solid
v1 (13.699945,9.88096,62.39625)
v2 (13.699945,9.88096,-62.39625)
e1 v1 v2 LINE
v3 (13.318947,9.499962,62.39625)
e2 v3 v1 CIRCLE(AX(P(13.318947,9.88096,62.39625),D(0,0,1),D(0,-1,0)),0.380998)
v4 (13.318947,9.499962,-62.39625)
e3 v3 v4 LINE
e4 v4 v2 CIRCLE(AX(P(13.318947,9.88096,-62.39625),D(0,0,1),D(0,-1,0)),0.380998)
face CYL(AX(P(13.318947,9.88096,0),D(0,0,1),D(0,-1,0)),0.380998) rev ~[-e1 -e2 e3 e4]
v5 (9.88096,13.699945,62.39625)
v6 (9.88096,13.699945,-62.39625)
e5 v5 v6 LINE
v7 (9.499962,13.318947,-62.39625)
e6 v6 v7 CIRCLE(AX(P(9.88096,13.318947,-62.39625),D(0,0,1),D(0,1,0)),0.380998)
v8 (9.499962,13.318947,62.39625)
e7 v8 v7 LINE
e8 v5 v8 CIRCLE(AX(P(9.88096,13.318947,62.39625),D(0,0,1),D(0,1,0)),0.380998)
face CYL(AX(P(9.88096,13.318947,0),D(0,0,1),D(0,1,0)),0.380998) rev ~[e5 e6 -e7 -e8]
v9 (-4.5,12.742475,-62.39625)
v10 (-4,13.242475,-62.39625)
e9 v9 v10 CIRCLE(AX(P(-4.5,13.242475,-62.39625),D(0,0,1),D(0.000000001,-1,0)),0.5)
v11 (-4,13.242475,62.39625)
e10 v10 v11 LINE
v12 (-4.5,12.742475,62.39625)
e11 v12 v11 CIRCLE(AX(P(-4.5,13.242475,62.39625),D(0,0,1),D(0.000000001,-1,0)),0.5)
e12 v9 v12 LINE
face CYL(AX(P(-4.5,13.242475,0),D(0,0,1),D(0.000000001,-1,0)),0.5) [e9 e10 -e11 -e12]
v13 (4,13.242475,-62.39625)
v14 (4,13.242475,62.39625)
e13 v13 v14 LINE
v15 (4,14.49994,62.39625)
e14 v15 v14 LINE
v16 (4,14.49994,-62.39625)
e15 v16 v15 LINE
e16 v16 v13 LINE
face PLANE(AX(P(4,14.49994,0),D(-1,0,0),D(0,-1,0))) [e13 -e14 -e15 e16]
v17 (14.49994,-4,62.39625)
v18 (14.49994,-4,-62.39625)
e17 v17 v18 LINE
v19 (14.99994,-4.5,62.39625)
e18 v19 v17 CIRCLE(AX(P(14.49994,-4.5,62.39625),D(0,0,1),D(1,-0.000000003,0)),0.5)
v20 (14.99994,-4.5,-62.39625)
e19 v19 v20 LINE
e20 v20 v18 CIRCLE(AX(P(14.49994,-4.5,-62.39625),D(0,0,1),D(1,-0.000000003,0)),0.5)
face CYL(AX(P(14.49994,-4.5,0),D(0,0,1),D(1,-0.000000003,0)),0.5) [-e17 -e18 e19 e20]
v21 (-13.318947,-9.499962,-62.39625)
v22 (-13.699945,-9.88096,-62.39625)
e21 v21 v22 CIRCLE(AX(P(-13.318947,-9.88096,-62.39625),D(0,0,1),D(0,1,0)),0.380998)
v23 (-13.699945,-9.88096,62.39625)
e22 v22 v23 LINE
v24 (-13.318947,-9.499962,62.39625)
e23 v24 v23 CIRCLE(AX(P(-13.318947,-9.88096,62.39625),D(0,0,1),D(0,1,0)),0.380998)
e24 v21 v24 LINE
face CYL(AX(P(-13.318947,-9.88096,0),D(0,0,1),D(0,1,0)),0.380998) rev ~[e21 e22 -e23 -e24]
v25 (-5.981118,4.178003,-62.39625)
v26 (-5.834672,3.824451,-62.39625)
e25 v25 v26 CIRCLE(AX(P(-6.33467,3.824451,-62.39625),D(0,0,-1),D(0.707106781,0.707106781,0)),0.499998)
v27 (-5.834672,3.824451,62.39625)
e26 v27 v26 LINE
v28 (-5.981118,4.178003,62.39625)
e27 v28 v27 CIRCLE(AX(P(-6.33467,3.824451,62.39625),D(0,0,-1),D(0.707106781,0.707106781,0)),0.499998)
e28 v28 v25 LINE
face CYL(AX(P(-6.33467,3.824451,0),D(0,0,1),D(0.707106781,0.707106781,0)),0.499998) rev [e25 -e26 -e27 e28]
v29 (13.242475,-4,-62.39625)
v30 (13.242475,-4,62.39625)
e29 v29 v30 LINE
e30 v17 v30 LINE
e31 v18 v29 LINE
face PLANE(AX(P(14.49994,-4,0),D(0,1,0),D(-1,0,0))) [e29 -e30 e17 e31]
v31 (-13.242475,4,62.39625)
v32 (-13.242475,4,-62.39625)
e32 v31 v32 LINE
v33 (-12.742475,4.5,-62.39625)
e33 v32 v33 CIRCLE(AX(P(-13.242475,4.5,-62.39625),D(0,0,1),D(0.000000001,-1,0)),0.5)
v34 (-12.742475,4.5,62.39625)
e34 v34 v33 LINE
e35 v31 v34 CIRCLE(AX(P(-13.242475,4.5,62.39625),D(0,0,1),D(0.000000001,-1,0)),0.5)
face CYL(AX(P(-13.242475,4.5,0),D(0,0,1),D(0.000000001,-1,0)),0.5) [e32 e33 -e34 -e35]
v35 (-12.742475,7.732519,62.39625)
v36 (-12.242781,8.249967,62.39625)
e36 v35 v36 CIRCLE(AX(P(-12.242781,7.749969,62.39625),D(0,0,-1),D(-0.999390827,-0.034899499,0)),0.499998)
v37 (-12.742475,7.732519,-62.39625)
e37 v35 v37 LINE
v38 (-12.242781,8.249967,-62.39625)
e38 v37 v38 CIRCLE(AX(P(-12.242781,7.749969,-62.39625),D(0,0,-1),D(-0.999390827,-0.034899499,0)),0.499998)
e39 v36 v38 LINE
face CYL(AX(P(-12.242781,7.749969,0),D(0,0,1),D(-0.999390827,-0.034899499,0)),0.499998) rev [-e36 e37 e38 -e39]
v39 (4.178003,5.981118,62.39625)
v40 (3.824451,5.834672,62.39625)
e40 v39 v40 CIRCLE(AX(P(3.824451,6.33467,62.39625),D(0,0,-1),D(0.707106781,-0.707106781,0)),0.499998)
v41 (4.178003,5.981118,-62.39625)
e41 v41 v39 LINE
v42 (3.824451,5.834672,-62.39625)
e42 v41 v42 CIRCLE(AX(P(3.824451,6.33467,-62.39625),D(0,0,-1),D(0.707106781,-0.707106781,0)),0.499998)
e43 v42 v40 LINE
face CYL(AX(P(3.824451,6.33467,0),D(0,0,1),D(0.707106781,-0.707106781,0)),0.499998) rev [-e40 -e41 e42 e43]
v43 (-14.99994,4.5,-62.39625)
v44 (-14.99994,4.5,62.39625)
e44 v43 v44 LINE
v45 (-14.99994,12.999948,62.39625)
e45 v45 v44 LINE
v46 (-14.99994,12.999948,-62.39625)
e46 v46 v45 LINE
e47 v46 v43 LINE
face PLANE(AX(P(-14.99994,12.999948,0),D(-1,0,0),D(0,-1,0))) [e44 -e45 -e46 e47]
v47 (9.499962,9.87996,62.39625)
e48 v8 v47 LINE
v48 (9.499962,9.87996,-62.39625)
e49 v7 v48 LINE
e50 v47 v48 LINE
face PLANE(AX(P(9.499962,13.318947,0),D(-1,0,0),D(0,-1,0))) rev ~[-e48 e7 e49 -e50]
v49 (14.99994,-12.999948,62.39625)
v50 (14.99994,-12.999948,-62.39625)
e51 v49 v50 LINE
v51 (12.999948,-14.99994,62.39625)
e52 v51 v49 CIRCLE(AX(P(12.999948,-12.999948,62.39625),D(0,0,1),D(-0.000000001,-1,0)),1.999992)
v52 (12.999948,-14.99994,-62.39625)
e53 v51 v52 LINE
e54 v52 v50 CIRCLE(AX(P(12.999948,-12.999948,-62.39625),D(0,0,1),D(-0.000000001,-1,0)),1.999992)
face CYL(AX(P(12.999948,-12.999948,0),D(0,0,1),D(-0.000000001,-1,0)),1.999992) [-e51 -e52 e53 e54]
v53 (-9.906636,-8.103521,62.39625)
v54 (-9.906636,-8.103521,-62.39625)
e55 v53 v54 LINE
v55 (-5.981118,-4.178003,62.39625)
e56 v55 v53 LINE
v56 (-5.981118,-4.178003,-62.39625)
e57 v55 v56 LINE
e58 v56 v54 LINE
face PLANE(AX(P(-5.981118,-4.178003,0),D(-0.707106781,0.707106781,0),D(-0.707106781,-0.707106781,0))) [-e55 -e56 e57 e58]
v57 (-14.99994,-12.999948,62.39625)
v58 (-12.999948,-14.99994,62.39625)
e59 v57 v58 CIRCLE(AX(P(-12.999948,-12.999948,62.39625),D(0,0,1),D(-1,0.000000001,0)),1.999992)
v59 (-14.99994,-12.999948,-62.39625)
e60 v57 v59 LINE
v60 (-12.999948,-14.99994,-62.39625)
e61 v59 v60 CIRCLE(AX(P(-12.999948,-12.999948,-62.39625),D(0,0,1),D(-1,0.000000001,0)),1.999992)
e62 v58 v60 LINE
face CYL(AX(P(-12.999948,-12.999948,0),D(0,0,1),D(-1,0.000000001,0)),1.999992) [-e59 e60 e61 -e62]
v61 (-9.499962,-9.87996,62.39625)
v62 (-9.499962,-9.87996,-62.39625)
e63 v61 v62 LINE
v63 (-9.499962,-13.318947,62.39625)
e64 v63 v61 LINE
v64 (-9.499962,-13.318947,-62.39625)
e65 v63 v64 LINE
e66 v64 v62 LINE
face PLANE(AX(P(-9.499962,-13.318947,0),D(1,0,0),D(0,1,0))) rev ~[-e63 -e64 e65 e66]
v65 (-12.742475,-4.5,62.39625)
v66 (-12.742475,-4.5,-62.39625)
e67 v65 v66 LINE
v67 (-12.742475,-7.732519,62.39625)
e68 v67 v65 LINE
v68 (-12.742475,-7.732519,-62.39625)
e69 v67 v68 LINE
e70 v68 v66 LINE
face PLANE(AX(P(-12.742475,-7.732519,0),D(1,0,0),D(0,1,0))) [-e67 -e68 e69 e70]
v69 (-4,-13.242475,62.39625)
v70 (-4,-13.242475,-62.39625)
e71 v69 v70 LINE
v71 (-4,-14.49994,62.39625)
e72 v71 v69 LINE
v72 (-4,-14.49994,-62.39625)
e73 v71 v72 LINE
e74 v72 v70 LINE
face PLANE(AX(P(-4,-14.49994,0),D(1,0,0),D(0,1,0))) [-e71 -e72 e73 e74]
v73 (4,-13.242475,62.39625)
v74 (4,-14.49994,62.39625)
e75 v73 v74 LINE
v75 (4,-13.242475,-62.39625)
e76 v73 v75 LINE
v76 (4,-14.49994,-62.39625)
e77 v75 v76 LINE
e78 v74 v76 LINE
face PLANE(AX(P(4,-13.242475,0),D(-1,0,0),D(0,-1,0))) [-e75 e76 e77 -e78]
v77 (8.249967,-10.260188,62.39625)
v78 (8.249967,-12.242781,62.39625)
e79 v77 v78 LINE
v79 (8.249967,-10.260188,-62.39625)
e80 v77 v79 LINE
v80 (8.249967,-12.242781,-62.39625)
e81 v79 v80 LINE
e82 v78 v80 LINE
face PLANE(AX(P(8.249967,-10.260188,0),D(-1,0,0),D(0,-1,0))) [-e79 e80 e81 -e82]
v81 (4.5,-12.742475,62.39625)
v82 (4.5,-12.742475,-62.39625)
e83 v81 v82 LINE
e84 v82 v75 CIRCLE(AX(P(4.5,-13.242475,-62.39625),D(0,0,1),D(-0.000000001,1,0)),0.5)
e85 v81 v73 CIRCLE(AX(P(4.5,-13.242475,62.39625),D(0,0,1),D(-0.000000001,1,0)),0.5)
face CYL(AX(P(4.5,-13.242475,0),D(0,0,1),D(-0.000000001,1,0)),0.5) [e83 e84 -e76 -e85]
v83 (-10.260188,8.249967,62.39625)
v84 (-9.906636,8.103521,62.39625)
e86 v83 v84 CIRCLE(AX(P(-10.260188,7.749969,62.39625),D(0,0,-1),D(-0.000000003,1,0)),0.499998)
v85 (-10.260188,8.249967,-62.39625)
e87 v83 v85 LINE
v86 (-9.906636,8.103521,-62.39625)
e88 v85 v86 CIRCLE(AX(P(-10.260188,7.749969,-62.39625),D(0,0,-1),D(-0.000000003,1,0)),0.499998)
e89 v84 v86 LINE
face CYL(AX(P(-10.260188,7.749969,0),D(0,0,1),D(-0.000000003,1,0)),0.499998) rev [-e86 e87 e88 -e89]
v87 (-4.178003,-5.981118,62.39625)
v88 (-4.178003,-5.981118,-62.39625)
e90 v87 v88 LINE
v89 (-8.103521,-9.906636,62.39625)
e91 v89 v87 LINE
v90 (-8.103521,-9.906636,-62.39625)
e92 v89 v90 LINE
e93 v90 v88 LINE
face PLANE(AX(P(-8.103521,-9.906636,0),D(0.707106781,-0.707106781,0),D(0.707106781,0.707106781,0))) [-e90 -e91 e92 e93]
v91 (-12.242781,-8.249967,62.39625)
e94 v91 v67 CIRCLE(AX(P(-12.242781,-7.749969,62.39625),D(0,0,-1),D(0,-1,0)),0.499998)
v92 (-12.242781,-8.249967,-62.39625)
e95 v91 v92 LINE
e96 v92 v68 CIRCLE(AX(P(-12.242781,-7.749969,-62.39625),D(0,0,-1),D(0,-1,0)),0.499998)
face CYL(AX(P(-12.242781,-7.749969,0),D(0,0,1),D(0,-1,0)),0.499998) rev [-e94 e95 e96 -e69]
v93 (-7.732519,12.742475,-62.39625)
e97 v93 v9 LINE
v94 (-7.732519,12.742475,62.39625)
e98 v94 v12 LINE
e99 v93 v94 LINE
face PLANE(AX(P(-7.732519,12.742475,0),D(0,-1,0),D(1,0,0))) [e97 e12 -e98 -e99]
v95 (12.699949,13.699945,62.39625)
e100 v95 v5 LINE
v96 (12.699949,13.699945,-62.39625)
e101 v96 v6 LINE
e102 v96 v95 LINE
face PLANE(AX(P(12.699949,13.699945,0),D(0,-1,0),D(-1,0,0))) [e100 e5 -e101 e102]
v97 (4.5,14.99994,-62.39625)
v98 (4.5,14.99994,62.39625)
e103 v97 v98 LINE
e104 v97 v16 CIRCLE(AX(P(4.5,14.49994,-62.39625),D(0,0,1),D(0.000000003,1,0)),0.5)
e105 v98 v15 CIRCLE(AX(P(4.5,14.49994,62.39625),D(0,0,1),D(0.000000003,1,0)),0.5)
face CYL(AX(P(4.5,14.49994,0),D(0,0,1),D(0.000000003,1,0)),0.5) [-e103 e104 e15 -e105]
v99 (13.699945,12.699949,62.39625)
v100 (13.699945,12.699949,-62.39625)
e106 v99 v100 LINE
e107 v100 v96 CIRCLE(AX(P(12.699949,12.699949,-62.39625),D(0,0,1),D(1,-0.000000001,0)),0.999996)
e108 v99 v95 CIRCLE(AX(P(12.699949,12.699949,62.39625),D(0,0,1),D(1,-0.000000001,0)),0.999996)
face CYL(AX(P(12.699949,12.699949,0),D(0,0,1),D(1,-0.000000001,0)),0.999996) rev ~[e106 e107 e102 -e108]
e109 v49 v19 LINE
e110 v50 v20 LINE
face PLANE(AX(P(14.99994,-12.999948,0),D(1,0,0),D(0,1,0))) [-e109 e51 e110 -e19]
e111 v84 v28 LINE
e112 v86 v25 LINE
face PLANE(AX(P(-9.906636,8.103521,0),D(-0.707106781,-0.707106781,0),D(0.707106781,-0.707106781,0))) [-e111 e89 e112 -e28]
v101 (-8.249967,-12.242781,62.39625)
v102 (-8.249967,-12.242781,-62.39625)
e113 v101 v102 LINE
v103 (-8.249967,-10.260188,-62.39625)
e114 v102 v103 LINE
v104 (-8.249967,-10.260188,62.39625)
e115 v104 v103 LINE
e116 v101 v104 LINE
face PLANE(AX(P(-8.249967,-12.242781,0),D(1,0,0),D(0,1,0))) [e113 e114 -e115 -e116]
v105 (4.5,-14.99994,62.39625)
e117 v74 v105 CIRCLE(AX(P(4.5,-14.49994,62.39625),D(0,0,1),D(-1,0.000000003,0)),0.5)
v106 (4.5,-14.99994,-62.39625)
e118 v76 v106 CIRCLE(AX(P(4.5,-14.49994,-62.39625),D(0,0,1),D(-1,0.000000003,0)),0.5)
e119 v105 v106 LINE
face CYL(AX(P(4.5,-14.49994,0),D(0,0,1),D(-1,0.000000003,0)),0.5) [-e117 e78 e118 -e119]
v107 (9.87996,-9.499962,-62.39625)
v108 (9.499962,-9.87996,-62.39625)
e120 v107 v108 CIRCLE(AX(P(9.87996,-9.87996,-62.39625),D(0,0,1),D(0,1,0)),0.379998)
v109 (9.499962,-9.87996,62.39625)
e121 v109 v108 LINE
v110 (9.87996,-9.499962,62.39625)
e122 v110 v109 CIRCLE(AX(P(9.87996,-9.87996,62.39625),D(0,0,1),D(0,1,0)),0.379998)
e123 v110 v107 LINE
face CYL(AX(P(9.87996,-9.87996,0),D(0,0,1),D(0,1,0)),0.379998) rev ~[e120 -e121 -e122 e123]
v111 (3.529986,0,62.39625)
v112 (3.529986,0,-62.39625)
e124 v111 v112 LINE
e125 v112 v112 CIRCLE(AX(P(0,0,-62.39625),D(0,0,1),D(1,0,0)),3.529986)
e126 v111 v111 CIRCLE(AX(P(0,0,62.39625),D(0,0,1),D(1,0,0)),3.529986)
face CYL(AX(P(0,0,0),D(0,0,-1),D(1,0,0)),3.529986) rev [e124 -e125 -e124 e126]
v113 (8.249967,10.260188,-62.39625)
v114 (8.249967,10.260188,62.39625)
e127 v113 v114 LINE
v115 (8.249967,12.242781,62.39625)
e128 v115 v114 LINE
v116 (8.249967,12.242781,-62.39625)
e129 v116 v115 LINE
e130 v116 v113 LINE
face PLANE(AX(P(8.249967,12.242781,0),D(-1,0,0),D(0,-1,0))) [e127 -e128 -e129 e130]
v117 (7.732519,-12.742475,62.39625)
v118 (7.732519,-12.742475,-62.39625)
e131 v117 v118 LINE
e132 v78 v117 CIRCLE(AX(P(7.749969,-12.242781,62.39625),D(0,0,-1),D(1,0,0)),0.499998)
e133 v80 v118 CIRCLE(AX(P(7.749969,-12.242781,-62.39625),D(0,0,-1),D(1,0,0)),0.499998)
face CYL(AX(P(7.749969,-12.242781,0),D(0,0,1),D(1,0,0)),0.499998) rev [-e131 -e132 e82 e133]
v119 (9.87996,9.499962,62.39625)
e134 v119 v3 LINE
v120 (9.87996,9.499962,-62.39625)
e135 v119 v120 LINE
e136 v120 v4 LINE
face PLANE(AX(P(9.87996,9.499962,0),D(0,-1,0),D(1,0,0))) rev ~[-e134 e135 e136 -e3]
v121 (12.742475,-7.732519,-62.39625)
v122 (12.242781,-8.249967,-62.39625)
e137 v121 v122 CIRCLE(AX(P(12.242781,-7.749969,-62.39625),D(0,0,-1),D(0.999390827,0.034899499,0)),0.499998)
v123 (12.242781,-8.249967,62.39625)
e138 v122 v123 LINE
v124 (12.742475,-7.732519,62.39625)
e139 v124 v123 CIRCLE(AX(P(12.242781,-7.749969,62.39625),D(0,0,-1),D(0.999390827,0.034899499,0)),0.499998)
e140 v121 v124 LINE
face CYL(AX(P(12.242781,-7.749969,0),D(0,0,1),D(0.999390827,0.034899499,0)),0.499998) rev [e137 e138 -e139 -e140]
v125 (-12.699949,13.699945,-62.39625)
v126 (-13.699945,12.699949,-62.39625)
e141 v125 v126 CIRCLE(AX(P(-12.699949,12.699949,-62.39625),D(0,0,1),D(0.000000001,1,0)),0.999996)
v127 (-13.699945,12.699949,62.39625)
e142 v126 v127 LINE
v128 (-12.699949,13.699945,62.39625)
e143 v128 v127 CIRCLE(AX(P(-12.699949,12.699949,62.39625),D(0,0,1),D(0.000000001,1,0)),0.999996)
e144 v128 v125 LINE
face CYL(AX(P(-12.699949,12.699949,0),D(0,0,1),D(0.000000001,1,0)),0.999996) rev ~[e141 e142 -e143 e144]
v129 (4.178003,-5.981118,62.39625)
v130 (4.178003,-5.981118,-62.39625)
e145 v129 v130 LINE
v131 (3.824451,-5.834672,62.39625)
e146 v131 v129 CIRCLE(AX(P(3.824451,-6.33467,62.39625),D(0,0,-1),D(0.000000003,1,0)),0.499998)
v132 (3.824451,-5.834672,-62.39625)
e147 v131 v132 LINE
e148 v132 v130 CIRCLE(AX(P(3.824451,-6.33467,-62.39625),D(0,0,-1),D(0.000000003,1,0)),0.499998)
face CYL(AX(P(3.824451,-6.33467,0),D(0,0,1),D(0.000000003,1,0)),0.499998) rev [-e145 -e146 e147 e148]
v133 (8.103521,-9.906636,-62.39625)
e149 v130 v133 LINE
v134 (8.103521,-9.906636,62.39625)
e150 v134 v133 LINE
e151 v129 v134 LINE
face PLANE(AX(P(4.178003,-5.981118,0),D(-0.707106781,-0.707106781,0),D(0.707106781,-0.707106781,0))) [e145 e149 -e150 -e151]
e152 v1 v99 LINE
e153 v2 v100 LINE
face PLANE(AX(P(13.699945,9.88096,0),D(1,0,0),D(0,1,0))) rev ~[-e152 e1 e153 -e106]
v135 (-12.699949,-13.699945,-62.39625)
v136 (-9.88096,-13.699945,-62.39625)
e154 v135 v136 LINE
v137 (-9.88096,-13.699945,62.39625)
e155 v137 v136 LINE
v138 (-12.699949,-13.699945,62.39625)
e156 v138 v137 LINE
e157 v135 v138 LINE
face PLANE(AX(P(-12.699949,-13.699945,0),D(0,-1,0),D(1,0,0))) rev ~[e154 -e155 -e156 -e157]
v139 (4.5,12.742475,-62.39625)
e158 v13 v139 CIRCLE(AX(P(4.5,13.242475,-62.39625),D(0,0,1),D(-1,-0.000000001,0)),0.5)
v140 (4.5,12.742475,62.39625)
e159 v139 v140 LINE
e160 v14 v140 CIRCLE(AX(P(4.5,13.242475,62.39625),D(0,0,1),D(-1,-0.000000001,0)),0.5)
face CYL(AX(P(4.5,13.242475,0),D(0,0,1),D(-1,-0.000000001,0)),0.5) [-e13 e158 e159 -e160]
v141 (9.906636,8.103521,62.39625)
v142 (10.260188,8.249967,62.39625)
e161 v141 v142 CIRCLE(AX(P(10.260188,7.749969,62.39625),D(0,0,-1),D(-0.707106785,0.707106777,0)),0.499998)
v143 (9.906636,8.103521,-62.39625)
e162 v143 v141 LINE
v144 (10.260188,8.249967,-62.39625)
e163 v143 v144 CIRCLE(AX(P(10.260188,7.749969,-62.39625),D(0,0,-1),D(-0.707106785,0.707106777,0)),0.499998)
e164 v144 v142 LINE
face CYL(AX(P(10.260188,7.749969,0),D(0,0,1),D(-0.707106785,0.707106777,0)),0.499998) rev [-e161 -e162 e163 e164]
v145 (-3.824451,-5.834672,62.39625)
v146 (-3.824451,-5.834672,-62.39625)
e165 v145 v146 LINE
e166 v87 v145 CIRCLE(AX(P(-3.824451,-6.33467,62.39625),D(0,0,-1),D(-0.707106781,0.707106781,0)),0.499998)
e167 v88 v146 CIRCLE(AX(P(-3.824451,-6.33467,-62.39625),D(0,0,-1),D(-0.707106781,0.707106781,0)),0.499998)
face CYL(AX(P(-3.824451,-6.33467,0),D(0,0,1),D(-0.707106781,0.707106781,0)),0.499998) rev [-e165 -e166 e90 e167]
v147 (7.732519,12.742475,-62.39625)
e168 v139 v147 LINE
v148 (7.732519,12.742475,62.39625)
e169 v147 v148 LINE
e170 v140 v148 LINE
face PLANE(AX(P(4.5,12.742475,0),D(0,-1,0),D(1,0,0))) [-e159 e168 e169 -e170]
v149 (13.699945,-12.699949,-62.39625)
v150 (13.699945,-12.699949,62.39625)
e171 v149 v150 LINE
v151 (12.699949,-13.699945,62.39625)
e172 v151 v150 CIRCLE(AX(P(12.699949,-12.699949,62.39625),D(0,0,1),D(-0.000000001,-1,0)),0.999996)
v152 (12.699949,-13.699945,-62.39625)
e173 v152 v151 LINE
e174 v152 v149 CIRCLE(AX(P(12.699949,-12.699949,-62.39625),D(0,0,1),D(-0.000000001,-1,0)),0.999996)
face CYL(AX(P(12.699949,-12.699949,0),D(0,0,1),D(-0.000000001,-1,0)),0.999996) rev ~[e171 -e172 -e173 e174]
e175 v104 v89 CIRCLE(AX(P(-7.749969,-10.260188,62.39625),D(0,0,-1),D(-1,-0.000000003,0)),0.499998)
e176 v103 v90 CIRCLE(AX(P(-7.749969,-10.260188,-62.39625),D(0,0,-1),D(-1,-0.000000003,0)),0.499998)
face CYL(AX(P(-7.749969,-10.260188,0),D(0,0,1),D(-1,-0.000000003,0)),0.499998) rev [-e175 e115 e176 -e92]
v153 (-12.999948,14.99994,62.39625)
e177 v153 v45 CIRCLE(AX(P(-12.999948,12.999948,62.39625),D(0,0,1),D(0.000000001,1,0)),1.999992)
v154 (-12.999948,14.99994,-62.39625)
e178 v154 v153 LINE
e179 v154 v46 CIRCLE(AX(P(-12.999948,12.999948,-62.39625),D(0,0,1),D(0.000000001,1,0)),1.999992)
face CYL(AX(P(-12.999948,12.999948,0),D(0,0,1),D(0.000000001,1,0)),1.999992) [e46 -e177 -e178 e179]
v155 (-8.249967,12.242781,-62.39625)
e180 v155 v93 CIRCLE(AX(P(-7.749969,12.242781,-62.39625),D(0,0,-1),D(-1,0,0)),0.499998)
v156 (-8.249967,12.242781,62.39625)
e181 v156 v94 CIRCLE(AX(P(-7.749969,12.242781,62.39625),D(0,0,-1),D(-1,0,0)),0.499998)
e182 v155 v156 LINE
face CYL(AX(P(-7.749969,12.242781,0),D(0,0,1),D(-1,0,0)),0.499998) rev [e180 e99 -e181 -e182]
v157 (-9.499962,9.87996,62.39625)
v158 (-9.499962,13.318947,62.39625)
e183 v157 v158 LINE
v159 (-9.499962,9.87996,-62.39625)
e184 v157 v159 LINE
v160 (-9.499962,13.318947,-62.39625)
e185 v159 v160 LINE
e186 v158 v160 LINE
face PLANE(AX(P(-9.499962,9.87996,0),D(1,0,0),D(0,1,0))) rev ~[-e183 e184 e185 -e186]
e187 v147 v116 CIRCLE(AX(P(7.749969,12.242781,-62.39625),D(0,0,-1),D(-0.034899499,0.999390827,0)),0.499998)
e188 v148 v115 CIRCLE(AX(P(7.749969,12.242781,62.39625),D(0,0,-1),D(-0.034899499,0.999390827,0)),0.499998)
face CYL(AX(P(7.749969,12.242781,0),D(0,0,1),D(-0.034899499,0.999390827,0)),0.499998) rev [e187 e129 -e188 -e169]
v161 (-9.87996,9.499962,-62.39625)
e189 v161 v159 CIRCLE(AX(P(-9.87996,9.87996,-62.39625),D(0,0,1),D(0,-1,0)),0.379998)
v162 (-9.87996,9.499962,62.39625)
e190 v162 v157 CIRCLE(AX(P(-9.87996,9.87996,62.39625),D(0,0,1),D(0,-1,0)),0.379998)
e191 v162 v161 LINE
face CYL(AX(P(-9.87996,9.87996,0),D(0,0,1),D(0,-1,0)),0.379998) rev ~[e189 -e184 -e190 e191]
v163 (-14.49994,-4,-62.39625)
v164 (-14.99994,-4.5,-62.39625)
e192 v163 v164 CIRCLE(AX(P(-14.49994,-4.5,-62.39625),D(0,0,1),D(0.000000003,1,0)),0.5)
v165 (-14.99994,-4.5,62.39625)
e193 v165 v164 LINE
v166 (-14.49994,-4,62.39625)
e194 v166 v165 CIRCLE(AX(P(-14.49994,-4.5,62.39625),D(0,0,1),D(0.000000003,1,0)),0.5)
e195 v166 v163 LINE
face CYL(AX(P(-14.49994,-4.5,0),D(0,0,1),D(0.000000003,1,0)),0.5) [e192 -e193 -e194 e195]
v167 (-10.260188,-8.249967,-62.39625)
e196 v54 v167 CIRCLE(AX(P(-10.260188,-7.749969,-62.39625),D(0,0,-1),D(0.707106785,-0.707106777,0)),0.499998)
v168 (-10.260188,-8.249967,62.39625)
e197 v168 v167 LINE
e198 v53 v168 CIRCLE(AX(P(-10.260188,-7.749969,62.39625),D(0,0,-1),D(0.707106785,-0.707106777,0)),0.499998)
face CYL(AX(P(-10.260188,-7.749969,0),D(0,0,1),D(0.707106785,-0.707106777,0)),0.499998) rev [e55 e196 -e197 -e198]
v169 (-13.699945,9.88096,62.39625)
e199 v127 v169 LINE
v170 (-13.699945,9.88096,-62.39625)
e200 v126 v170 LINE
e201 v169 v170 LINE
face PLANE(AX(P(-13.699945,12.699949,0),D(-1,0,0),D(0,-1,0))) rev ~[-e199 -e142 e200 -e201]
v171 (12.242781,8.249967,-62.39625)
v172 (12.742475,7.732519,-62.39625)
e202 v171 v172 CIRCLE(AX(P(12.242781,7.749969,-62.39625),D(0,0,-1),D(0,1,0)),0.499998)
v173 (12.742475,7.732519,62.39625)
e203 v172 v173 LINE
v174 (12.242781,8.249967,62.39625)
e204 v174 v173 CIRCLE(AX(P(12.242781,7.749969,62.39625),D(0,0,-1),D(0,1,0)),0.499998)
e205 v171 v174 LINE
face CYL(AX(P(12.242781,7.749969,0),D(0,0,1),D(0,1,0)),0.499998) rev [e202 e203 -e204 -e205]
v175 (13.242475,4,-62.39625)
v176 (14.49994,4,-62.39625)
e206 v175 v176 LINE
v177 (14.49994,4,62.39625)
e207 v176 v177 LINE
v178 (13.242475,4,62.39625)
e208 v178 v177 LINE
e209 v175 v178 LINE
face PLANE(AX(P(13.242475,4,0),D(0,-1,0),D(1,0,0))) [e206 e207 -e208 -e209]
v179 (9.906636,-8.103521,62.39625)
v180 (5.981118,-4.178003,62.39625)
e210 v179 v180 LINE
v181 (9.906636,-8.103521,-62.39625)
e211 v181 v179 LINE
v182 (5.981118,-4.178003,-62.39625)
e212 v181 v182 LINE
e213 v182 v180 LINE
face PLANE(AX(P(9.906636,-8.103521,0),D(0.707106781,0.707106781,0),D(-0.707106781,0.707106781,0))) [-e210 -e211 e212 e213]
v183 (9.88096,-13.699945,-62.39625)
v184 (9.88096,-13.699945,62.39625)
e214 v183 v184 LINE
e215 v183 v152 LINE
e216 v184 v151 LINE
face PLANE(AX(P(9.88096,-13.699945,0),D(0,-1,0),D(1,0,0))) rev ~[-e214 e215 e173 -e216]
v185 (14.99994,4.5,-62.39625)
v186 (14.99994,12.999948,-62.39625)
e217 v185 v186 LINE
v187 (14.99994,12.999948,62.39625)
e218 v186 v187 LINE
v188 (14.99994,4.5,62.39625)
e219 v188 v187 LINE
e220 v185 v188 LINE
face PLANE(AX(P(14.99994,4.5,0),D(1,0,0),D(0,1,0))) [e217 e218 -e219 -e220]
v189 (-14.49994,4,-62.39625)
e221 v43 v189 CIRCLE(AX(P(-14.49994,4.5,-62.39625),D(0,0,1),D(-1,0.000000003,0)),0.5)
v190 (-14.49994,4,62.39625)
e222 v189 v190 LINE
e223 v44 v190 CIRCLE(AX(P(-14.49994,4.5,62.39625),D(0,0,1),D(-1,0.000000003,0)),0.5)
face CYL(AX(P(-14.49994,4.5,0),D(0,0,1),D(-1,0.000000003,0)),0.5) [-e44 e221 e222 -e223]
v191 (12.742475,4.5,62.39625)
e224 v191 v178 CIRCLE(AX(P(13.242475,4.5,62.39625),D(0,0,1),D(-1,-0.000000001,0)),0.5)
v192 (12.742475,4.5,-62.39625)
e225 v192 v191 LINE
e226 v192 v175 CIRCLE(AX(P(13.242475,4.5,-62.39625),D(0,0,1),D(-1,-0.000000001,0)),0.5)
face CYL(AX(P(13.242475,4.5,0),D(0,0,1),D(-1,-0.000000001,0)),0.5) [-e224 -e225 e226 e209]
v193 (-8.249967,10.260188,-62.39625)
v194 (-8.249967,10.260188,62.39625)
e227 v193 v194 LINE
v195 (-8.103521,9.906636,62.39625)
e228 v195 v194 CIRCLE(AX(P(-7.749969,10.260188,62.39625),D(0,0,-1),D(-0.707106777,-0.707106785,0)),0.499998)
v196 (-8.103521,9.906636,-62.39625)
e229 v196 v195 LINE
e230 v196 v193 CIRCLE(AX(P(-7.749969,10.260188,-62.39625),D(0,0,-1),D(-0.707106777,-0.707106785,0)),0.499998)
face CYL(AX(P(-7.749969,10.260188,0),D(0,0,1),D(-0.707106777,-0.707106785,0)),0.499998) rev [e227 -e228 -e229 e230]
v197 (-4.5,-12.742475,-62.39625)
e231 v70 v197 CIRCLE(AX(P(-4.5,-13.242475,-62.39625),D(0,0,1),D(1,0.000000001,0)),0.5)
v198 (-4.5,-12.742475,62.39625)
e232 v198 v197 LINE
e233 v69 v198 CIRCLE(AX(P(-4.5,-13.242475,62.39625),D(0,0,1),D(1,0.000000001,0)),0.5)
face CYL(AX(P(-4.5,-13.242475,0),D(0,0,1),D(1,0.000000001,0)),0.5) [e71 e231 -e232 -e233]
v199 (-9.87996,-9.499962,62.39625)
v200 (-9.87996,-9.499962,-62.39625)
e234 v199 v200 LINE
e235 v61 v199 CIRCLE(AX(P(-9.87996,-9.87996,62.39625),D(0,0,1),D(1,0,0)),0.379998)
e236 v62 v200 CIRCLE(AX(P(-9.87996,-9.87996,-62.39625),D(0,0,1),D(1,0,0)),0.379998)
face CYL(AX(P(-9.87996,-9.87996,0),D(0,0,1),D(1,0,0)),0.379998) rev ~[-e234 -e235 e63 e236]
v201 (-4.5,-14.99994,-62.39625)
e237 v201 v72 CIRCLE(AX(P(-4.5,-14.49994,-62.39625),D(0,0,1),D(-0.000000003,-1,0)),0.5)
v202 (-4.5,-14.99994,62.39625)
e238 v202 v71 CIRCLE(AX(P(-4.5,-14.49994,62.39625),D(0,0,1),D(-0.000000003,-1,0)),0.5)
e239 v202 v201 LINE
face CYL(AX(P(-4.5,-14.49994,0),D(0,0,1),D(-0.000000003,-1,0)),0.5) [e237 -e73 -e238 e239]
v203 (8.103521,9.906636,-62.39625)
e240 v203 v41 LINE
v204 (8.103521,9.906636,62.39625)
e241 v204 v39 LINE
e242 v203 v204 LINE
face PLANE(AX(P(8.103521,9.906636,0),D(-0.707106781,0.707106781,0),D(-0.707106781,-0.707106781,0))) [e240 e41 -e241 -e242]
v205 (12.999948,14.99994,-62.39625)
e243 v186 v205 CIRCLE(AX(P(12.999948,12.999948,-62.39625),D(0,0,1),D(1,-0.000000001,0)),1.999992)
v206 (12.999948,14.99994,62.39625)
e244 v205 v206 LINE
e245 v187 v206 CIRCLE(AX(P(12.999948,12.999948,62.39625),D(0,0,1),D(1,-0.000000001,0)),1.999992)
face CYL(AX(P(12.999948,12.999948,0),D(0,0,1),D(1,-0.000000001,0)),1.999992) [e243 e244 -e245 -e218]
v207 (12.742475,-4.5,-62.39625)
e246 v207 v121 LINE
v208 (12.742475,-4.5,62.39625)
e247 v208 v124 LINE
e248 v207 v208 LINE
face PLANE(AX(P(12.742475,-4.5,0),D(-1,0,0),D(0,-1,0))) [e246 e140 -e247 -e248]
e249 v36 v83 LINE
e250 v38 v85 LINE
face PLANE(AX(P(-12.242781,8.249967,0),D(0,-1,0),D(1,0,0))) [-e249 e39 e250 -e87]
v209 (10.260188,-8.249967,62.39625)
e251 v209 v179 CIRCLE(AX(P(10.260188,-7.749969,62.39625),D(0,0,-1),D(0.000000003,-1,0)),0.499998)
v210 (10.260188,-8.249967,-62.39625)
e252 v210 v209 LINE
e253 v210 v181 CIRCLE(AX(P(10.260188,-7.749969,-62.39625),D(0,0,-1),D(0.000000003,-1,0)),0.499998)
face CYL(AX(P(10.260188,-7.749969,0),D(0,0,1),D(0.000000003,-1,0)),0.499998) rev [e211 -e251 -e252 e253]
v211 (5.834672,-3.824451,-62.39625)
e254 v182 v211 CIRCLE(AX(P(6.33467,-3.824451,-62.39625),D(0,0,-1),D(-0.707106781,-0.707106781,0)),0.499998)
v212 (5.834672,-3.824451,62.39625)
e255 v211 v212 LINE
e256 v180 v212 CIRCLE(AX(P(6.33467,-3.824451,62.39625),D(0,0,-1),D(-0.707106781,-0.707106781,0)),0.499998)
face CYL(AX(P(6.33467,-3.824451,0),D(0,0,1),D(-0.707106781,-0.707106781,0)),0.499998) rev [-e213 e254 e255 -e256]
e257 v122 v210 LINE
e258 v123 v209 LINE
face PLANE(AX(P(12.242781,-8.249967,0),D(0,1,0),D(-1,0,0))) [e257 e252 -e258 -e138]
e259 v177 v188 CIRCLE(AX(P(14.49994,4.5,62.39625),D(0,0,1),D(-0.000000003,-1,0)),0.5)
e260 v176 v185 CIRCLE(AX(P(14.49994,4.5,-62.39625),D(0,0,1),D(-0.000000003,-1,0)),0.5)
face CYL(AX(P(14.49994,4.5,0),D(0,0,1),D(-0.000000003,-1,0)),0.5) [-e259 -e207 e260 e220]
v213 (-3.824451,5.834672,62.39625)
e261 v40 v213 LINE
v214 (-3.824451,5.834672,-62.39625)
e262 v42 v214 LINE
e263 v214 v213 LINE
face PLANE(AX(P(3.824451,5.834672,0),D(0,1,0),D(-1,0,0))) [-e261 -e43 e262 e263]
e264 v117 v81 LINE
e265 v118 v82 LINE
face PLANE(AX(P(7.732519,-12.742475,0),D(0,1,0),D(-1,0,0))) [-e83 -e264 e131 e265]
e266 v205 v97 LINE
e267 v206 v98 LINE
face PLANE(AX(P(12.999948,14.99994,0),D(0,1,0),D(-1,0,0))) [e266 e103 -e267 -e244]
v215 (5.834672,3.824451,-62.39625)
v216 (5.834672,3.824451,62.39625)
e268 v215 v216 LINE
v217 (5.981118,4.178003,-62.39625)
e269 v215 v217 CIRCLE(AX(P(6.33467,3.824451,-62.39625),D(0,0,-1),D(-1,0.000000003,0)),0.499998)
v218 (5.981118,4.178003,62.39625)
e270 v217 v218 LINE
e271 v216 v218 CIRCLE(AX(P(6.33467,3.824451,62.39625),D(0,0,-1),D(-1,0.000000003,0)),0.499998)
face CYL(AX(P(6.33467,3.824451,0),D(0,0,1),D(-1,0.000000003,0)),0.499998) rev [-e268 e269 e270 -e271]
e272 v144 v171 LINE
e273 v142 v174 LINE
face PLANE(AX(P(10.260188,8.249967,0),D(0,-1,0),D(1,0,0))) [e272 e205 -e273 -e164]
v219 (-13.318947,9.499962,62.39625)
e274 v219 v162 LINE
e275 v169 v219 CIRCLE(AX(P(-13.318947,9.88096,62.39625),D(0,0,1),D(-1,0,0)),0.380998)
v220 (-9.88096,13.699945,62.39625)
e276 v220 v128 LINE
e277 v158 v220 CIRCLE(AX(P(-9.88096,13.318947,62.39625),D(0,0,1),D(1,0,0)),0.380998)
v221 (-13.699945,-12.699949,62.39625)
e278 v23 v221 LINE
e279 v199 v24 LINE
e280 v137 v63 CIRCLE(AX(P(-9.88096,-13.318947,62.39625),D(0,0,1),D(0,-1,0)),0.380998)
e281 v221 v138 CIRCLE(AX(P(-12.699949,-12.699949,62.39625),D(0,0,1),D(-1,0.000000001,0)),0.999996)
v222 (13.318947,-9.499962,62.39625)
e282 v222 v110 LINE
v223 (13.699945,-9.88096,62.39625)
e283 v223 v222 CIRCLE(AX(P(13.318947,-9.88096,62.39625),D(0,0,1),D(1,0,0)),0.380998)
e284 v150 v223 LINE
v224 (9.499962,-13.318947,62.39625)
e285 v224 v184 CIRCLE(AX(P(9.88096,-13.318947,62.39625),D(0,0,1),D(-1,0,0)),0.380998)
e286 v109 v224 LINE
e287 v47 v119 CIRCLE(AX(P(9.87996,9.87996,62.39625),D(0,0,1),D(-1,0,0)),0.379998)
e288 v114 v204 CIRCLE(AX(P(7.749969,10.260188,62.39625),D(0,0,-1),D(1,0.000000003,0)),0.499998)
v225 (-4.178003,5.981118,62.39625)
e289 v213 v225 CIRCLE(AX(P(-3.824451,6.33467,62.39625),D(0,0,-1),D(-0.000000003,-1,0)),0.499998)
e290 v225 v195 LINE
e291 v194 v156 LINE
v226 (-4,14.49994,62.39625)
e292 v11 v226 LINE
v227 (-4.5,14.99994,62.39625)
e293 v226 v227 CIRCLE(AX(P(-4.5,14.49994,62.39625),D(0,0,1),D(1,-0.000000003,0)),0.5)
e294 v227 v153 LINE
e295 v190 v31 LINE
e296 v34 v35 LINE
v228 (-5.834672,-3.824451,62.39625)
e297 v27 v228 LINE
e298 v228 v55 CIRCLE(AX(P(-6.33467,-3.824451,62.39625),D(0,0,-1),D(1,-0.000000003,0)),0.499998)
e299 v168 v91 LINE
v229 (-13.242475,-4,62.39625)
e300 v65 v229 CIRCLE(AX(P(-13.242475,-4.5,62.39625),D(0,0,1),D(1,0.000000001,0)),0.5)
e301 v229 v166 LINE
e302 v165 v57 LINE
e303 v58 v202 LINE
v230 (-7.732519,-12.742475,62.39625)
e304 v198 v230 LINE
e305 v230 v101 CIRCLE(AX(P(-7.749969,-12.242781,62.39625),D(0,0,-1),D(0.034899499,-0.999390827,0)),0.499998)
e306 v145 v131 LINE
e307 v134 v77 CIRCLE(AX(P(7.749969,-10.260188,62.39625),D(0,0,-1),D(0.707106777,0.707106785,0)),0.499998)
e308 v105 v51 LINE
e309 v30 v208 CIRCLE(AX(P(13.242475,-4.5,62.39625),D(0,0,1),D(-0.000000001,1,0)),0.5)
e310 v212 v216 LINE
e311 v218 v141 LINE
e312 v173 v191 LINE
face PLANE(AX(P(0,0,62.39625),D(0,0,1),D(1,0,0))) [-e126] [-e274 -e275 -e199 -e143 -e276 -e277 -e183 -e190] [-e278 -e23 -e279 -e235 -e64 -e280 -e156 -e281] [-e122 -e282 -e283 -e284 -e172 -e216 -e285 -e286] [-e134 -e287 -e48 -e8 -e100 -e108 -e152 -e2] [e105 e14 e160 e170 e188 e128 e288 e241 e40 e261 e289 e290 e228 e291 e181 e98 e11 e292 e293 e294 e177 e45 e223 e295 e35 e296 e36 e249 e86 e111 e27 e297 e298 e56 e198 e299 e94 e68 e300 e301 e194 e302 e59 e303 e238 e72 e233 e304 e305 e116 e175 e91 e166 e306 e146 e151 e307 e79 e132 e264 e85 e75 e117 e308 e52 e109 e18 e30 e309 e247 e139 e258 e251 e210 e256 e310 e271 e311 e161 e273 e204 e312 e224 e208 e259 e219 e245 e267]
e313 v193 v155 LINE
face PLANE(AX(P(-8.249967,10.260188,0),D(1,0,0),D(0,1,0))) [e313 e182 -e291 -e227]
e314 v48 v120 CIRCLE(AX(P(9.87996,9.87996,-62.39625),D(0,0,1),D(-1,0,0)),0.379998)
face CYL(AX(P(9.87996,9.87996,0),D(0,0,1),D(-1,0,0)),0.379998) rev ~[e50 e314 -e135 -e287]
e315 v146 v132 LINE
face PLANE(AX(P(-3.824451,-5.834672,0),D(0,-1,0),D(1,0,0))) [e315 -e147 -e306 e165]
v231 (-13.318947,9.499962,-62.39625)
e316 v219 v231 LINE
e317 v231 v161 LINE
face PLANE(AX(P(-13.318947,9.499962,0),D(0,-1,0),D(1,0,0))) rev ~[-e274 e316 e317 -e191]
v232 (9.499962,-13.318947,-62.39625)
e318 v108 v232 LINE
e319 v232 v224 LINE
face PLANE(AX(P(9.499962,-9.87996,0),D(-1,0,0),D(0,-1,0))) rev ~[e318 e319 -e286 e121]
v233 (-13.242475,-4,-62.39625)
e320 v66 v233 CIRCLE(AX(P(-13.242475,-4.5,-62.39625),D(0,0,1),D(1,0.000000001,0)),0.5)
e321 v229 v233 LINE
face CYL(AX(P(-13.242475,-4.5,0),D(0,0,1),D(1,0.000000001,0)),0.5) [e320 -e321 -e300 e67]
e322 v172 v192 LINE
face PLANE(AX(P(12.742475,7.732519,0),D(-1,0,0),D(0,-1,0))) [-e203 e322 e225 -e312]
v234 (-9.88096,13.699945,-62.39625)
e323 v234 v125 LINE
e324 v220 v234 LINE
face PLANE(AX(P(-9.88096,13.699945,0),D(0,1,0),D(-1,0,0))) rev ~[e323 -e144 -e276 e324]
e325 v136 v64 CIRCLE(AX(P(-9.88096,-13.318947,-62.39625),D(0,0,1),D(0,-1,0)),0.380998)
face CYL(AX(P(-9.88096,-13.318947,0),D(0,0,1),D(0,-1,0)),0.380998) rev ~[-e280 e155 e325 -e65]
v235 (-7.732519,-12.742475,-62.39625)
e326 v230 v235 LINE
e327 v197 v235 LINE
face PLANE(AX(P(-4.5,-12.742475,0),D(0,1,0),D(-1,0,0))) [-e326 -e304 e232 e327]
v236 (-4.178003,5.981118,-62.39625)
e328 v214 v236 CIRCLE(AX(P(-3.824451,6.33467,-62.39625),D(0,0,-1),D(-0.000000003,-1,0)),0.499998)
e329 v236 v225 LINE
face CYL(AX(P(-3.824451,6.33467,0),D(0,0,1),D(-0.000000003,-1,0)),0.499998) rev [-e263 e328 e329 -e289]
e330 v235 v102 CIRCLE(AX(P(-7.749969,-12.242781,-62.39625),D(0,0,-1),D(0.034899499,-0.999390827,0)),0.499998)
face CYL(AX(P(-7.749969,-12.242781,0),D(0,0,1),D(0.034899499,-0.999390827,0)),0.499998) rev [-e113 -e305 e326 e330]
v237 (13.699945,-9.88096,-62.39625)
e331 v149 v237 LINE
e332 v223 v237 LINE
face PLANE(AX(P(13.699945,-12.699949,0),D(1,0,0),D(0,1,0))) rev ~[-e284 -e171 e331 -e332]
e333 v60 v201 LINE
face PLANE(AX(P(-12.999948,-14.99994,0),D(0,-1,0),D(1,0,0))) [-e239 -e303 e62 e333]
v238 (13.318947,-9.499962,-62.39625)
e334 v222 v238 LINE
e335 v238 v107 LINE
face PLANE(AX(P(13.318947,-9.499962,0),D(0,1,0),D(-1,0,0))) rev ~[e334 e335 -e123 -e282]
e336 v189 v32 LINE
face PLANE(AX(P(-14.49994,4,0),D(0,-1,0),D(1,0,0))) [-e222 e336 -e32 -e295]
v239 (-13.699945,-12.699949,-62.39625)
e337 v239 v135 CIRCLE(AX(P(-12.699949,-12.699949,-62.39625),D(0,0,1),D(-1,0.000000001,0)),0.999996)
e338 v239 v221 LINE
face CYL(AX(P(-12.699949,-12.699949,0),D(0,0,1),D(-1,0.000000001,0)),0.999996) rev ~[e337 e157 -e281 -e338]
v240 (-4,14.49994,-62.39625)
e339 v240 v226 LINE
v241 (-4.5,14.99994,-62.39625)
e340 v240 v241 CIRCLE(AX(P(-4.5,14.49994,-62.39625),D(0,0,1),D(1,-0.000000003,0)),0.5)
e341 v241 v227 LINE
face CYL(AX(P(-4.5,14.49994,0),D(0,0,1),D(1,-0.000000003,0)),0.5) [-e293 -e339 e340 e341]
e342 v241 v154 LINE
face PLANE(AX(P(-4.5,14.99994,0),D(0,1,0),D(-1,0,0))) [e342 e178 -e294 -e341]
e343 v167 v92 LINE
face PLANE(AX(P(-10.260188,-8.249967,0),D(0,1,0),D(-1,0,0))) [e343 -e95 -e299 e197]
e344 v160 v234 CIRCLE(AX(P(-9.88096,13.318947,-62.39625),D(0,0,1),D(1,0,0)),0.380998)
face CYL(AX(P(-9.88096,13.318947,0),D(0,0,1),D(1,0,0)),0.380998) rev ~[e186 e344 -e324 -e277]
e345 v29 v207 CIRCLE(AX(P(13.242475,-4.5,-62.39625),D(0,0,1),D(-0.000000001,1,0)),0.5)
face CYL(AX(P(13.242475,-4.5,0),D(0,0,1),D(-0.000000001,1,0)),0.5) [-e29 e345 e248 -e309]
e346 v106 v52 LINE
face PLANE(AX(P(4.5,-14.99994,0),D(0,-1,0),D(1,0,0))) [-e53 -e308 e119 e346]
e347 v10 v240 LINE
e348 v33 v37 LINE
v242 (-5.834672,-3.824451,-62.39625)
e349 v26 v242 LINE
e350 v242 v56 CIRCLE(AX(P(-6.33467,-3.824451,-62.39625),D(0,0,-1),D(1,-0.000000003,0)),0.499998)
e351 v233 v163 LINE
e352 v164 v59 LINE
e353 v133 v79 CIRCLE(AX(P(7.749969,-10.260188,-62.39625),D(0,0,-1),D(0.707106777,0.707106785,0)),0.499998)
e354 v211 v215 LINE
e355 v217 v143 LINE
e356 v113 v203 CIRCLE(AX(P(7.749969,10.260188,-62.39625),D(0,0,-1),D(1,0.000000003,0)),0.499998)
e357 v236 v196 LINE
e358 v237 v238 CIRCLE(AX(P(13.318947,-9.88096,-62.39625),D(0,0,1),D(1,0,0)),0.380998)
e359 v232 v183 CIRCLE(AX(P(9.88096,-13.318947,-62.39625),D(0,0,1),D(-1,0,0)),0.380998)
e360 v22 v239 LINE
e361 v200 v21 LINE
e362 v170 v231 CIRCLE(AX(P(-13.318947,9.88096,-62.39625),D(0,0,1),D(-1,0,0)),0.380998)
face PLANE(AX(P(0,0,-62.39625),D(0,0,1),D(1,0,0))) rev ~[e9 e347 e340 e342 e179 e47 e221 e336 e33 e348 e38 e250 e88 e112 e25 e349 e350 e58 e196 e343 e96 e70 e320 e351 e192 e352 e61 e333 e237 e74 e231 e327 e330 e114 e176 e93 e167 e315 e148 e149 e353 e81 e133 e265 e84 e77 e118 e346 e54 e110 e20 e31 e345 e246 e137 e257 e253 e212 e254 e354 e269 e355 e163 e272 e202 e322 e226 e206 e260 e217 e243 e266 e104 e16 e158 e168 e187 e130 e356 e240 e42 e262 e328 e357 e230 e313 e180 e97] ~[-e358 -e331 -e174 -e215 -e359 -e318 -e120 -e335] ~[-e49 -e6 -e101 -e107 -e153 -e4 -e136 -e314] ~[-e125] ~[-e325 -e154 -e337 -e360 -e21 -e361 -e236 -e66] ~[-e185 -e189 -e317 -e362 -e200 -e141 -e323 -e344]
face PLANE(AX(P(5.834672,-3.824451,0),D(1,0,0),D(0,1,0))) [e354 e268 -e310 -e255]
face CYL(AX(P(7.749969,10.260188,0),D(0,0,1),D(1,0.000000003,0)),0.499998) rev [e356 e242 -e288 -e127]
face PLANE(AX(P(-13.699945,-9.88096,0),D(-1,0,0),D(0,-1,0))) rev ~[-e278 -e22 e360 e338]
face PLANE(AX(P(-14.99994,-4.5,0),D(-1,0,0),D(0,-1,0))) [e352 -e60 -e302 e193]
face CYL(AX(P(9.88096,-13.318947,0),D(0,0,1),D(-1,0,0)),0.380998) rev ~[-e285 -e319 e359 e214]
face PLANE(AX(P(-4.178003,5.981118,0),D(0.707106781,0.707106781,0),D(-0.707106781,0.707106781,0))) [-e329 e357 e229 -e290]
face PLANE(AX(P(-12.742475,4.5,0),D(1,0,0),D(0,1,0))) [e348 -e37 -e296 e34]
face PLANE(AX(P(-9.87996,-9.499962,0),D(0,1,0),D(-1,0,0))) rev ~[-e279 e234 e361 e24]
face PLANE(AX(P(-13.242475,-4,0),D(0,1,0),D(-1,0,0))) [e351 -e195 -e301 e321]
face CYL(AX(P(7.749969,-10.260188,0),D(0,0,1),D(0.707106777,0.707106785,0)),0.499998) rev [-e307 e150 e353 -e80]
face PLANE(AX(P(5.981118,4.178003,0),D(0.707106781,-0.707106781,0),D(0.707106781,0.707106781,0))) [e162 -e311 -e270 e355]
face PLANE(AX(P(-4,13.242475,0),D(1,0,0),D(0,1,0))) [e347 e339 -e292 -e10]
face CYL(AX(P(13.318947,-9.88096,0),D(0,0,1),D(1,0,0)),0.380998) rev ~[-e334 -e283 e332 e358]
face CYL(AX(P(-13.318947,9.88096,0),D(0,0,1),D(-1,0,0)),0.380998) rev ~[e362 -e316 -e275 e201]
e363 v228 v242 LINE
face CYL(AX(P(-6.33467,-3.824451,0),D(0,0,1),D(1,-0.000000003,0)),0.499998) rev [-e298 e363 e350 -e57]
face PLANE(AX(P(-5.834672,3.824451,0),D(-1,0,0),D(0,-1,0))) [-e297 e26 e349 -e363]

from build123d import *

# Parameters (mm, degrees)
SKETCH1_R           = 3.52998588
BOSS_EXTRUDE1_DEPTH = 62.39625


with BuildPart() as part:
    # Sketch1 → Boss-Extrude1 (new, symmetric)
    with BuildSketch(Plane.XY):
        with BuildLine():
            Line((14.49994, -4), (13.24247465, -4))
            ThreePointArc((13.24247465, -4), (12.88892126, -4.146446609), (12.74247465, -4.5))
            Line((12.74247465, -4.5), (12.74247465, -7.732519321))
            ThreePointArc((12.74247465, -7.732519321), (12.602449697, -8.097296796), (12.242781236, -8.249967))
            Line((12.242781236, -8.249967), (10.260188032, -8.249967))
            ThreePointArc((10.260188032, -8.249967), (10.068847082, -8.211906919), (9.906636056, -8.103520976))
            Line((9.906636056, -8.103520976), (5.981117769, -4.178002689))
            ThreePointArc((5.981117769, -4.178002689), (5.872731827, -4.015791664), (5.834671745, -3.824450713))
            Line((5.834671745, -3.824450713), (5.834671745, -1.01249595))
            Line((5.834671745, -1.01249595), (5.834671745, 0.88749645))
            Line((5.834671745, 0.88749645), (5.834671745, 3.824450713))
            ThreePointArc((5.834671745, 3.824450713), (5.872731827, 4.015791664), (5.981117769, 4.178002689))
            Line((5.981117769, 4.178002689), (9.906636056, 8.103520976))
            ThreePointArc((9.906636056, 8.103520976), (10.068847082, 8.211906919), (10.260188032, 8.249967))
            Line((10.260188032, 8.249967), (12.242781236, 8.249967))
            ThreePointArc((12.242781236, 8.249967), (12.602449697, 8.097296796), (12.74247465, 7.732519321))
            Line((12.74247465, 7.732519321), (12.74247465, 4.5))
            ThreePointArc((12.74247465, 4.5), (12.88892126, 4.146446609), (13.24247465, 4))
            Line((13.24247465, 4), (14.49994, 4))
            ThreePointArc((14.49994, 4), (14.853493391, 4.146446609), (14.99994, 4.5))
            Line((14.99994, 4.5), (14.99994, 12.999948))
            ThreePointArc((14.99994, 12.999948), (14.414155906, 14.414155906), (12.999948, 14.99994))
            Line((12.999948, 14.99994), (4.5, 14.99994))
            ThreePointArc((4.5, 14.99994), (4.146446609, 14.853493391), (4, 14.49994))
            Line((4, 14.49994), (4, 13.24247465))
            ThreePointArc((4, 13.24247465), (4.146446609, 12.88892126), (4.5, 12.74247465))
            Line((4.5, 12.74247465), (7.732519321, 12.74247465))
            ThreePointArc((7.732519321, 12.74247465), (8.097296796, 12.602449697), (8.249967, 12.242781236))
            Line((8.249967, 12.242781236), (8.249967, 10.260188032))
            ThreePointArc((8.249967, 10.260188032), (8.211906919, 10.068847082), (8.103520976, 9.906636056))
            Line((8.103520976, 9.906636056), (4.178002689, 5.981117769))
            ThreePointArc((4.178002689, 5.981117769), (4.015791664, 5.872731827), (3.824450713, 5.834671745))
            Line((3.824450713, 5.834671745), (0.9499962, 5.834671745))
            Line((0.9499962, 5.834671745), (-0.9499962, 5.834671745))
            Line((-0.9499962, 5.834671745), (-3.824450713, 5.834671745))
            ThreePointArc((-3.824450713, 5.834671745), (-4.015791664, 5.872731827), (-4.178002689, 5.981117769))
            Line((-4.178002689, 5.981117769), (-8.103520976, 9.906636056))
            ThreePointArc((-8.103520976, 9.906636056), (-8.211906919, 10.068847082), (-8.249967, 10.260188032))
            Line((-8.249967, 10.260188032), (-8.249967, 12.242781236))
            ThreePointArc((-8.249967, 12.242781236), (-8.097296796, 12.602449697), (-7.732519321, 12.74247465))
            Line((-7.732519321, 12.74247465), (-4.5, 12.74247465))
            ThreePointArc((-4.5, 12.74247465), (-4.146446609, 12.88892126), (-4, 13.24247465))
            Line((-4, 13.24247465), (-4, 14.49994))
            ThreePointArc((-4, 14.49994), (-4.146446609, 14.853493391), (-4.5, 14.99994))
            Line((-4.5, 14.99994), (-12.999948, 14.99994))
            ThreePointArc((-12.999948, 14.99994), (-14.414155906, 14.414155906), (-14.99994, 12.999948))
            Line((-14.99994, 12.999948), (-14.99994, 4.5))
            ThreePointArc((-14.99994, 4.5), (-14.853493391, 4.146446609), (-14.49994, 4))
            Line((-14.49994, 4), (-13.24247465, 4))
            ThreePointArc((-13.24247465, 4), (-12.88892126, 4.146446609), (-12.74247465, 4.5))
            Line((-12.74247465, 4.5), (-12.74247465, 7.732519321))
            ThreePointArc((-12.74247465, 7.732519321), (-12.602449697, 8.097296796), (-12.242781236, 8.249967))
            Line((-12.242781236, 8.249967), (-10.260188032, 8.249967))
            ThreePointArc((-10.260188032, 8.249967), (-10.068847082, 8.211906919), (-9.906636056, 8.103520976))
            Line((-9.906636056, 8.103520976), (-5.981117769, 4.178002689))
            ThreePointArc((-5.981117769, 4.178002689), (-5.872731827, 4.015791664), (-5.834671745, 3.824450713))
            Line((-5.834671745, 3.824450713), (-5.834671745, 0.88749645))
            Line((-5.834671745, 0.88749645), (-5.834671745, -1.01249595))
            Line((-5.834671745, -1.01249595), (-5.834671745, -3.824450713))
            ThreePointArc((-5.834671745, -3.824450713), (-5.872731827, -4.015791664), (-5.981117769, -4.178002689))
            Line((-5.981117769, -4.178002689), (-9.906636056, -8.103520976))
            ThreePointArc((-9.906636056, -8.103520976), (-10.068847082, -8.211906919), (-10.260188032, -8.249967))
            Line((-10.260188032, -8.249967), (-12.242781236, -8.249967))
            ThreePointArc((-12.242781236, -8.249967), (-12.602449697, -8.097296796), (-12.74247465, -7.732519321))
            Line((-12.74247465, -7.732519321), (-12.74247465, -4.5))
            ThreePointArc((-12.74247465, -4.5), (-12.88892126, -4.146446609), (-13.24247465, -4))
            Line((-13.24247465, -4), (-14.49994, -4))
            ThreePointArc((-14.49994, -4), (-14.853493391, -4.146446609), (-14.99994, -4.5))
            Line((-14.99994, -4.5), (-14.99994, -12.999948))
            ThreePointArc((-14.99994, -12.999948), (-14.414155906, -14.414155906), (-12.999948, -14.99994))
            Line((-12.999948, -14.99994), (-4.5, -14.99994))
            ThreePointArc((-4.5, -14.99994), (-4.146446609, -14.853493391), (-4, -14.49994))
            Line((-4, -14.49994), (-4, -13.24247465))
            ThreePointArc((-4, -13.24247465), (-4.146446609, -12.88892126), (-4.5, -12.74247465))
            Line((-4.5, -12.74247465), (-7.732519321, -12.74247465))
            ThreePointArc((-7.732519321, -12.74247465), (-8.097296796, -12.602449697), (-8.249967, -12.242781236))
            Line((-8.249967, -12.242781236), (-8.249967, -10.260188032))
            ThreePointArc((-8.249967, -10.260188032), (-8.211906919, -10.068847082), (-8.103520976, -9.906636056))
            Line((-8.103520976, -9.906636056), (-4.178002689, -5.981117769))
            ThreePointArc((-4.178002689, -5.981117769), (-4.015791664, -5.872731827), (-3.824450713, -5.834671745))
            Line((-3.824450713, -5.834671745), (-0.9499962, -5.834671745))
            Line((-0.9499962, -5.834671745), (0.9499962, -5.834671745))
            Line((0.9499962, -5.834671745), (3.824450713, -5.834671745))
            ThreePointArc((3.824450713, -5.834671745), (4.015791664, -5.872731827), (4.178002689, -5.981117769))
            Line((4.178002689, -5.981117769), (8.103520976, -9.906636056))
            ThreePointArc((8.103520976, -9.906636056), (8.211906919, -10.068847082), (8.249967, -10.260188032))
            Line((8.249967, -10.260188032), (8.249967, -12.242781236))
            ThreePointArc((8.249967, -12.242781236), (8.097296796, -12.602449697), (7.732519321, -12.74247465))
            Line((7.732519321, -12.74247465), (4.5, -12.74247465))
            ThreePointArc((4.5, -12.74247465), (4.146446609, -12.88892126), (4, -13.24247465))
            Line((4, -13.24247465), (4, -14.49994))
            ThreePointArc((4, -14.49994), (4.146446609, -14.853493391), (4.5, -14.99994))
            Line((4.5, -14.99994), (12.999948, -14.99994))
            ThreePointArc((12.999948, -14.99994), (14.414155906, -14.414155906), (14.99994, -12.999948))
            Line((14.99994, -12.999948), (14.99994, -4.5))
            ThreePointArc((14.99994, -4.5), (14.853493391, -4.146446609), (14.49994, -4))
        make_face()
        Circle(SKETCH1_R, mode=Mode.SUBTRACT)
        with BuildLine():
            Line((-12.6999492, -13.6999452), (-9.880960476, -13.6999452))
            ThreePointArc((-9.880960476, -13.6999452), (-9.61155387, -13.58835333), (-9.499962, -13.318946724))
            Line((-9.499962, -13.318946724), (-9.499962, -9.87996048))
            ThreePointArc((-9.499962, -9.87996048), (-9.611260978, -9.611260978), (-9.87996048, -9.499962))
            Line((-9.87996048, -9.499962), (-13.318946724, -9.499962))
            ThreePointArc((-13.318946724, -9.499962), (-13.58835333, -9.61155387), (-13.6999452, -9.880960476))
            Line((-13.6999452, -9.880960476), (-13.6999452, -12.6999492))
            ThreePointArc((-13.6999452, -12.6999492), (-13.407053153, -13.407053153), (-12.6999492, -13.6999452))
        make_face(mode=Mode.SUBTRACT)
        with BuildLine():
            Line((13.6999452, -12.6999492), (13.6999452, -9.880960476))
            ThreePointArc((13.6999452, -9.880960476), (13.58835333, -9.61155387), (13.318946724, -9.499962))
            Line((13.318946724, -9.499962), (9.87996048, -9.499962))
            ThreePointArc((9.87996048, -9.499962), (9.611260978, -9.611260978), (9.499962, -9.87996048))
            Line((9.499962, -9.87996048), (9.499962, -13.318946724))
            ThreePointArc((9.499962, -13.318946724), (9.61155387, -13.58835333), (9.880960476, -13.6999452))
            Line((9.880960476, -13.6999452), (12.6999492, -13.6999452))
            ThreePointArc((12.6999492, -13.6999452), (13.407053153, -13.407053153), (13.6999452, -12.6999492))
        make_face(mode=Mode.SUBTRACT)
        with BuildLine():
            Line((9.87996048, 9.499962), (13.318946724, 9.499962))
            ThreePointArc((13.318946724, 9.499962), (13.58835333, 9.61155387), (13.6999452, 9.880960476))
            Line((13.6999452, 9.880960476), (13.6999452, 12.6999492))
            ThreePointArc((13.6999452, 12.6999492), (13.407053153, 13.407053153), (12.6999492, 13.6999452))
            Line((12.6999492, 13.6999452), (9.880960476, 13.6999452))
            ThreePointArc((9.880960476, 13.6999452), (9.61155387, 13.58835333), (9.499962, 13.318946724))
            Line((9.499962, 13.318946724), (9.499962, 9.87996048))
            ThreePointArc((9.499962, 9.87996048), (9.611260978, 9.611260978), (9.87996048, 9.499962))
        make_face(mode=Mode.SUBTRACT)
        with BuildLine():
            Line((-13.6999452, 12.6999492), (-13.6999452, 9.880960476))
            ThreePointArc((-13.6999452, 9.880960476), (-13.58835333, 9.61155387), (-13.318946724, 9.499962))
            Line((-13.318946724, 9.499962), (-9.87996048, 9.499962))
            ThreePointArc((-9.87996048, 9.499962), (-9.611260978, 9.611260978), (-9.499962, 9.87996048))
            Line((-9.499962, 9.87996048), (-9.499962, 13.318946724))
            ThreePointArc((-9.499962, 13.318946724), (-9.61155387, 13.58835333), (-9.880960476, 13.6999452))
            Line((-9.880960476, 13.6999452), (-12.6999492, 13.6999452))
            ThreePointArc((-12.6999492, 13.6999452), (-13.407053153, 13.407053153), (-13.6999452, 12.6999492))
        make_face(mode=Mode.SUBTRACT)
    extrude(amount=BOSS_EXTRUDE1_DEPTH, both=True)


solid = part.part
